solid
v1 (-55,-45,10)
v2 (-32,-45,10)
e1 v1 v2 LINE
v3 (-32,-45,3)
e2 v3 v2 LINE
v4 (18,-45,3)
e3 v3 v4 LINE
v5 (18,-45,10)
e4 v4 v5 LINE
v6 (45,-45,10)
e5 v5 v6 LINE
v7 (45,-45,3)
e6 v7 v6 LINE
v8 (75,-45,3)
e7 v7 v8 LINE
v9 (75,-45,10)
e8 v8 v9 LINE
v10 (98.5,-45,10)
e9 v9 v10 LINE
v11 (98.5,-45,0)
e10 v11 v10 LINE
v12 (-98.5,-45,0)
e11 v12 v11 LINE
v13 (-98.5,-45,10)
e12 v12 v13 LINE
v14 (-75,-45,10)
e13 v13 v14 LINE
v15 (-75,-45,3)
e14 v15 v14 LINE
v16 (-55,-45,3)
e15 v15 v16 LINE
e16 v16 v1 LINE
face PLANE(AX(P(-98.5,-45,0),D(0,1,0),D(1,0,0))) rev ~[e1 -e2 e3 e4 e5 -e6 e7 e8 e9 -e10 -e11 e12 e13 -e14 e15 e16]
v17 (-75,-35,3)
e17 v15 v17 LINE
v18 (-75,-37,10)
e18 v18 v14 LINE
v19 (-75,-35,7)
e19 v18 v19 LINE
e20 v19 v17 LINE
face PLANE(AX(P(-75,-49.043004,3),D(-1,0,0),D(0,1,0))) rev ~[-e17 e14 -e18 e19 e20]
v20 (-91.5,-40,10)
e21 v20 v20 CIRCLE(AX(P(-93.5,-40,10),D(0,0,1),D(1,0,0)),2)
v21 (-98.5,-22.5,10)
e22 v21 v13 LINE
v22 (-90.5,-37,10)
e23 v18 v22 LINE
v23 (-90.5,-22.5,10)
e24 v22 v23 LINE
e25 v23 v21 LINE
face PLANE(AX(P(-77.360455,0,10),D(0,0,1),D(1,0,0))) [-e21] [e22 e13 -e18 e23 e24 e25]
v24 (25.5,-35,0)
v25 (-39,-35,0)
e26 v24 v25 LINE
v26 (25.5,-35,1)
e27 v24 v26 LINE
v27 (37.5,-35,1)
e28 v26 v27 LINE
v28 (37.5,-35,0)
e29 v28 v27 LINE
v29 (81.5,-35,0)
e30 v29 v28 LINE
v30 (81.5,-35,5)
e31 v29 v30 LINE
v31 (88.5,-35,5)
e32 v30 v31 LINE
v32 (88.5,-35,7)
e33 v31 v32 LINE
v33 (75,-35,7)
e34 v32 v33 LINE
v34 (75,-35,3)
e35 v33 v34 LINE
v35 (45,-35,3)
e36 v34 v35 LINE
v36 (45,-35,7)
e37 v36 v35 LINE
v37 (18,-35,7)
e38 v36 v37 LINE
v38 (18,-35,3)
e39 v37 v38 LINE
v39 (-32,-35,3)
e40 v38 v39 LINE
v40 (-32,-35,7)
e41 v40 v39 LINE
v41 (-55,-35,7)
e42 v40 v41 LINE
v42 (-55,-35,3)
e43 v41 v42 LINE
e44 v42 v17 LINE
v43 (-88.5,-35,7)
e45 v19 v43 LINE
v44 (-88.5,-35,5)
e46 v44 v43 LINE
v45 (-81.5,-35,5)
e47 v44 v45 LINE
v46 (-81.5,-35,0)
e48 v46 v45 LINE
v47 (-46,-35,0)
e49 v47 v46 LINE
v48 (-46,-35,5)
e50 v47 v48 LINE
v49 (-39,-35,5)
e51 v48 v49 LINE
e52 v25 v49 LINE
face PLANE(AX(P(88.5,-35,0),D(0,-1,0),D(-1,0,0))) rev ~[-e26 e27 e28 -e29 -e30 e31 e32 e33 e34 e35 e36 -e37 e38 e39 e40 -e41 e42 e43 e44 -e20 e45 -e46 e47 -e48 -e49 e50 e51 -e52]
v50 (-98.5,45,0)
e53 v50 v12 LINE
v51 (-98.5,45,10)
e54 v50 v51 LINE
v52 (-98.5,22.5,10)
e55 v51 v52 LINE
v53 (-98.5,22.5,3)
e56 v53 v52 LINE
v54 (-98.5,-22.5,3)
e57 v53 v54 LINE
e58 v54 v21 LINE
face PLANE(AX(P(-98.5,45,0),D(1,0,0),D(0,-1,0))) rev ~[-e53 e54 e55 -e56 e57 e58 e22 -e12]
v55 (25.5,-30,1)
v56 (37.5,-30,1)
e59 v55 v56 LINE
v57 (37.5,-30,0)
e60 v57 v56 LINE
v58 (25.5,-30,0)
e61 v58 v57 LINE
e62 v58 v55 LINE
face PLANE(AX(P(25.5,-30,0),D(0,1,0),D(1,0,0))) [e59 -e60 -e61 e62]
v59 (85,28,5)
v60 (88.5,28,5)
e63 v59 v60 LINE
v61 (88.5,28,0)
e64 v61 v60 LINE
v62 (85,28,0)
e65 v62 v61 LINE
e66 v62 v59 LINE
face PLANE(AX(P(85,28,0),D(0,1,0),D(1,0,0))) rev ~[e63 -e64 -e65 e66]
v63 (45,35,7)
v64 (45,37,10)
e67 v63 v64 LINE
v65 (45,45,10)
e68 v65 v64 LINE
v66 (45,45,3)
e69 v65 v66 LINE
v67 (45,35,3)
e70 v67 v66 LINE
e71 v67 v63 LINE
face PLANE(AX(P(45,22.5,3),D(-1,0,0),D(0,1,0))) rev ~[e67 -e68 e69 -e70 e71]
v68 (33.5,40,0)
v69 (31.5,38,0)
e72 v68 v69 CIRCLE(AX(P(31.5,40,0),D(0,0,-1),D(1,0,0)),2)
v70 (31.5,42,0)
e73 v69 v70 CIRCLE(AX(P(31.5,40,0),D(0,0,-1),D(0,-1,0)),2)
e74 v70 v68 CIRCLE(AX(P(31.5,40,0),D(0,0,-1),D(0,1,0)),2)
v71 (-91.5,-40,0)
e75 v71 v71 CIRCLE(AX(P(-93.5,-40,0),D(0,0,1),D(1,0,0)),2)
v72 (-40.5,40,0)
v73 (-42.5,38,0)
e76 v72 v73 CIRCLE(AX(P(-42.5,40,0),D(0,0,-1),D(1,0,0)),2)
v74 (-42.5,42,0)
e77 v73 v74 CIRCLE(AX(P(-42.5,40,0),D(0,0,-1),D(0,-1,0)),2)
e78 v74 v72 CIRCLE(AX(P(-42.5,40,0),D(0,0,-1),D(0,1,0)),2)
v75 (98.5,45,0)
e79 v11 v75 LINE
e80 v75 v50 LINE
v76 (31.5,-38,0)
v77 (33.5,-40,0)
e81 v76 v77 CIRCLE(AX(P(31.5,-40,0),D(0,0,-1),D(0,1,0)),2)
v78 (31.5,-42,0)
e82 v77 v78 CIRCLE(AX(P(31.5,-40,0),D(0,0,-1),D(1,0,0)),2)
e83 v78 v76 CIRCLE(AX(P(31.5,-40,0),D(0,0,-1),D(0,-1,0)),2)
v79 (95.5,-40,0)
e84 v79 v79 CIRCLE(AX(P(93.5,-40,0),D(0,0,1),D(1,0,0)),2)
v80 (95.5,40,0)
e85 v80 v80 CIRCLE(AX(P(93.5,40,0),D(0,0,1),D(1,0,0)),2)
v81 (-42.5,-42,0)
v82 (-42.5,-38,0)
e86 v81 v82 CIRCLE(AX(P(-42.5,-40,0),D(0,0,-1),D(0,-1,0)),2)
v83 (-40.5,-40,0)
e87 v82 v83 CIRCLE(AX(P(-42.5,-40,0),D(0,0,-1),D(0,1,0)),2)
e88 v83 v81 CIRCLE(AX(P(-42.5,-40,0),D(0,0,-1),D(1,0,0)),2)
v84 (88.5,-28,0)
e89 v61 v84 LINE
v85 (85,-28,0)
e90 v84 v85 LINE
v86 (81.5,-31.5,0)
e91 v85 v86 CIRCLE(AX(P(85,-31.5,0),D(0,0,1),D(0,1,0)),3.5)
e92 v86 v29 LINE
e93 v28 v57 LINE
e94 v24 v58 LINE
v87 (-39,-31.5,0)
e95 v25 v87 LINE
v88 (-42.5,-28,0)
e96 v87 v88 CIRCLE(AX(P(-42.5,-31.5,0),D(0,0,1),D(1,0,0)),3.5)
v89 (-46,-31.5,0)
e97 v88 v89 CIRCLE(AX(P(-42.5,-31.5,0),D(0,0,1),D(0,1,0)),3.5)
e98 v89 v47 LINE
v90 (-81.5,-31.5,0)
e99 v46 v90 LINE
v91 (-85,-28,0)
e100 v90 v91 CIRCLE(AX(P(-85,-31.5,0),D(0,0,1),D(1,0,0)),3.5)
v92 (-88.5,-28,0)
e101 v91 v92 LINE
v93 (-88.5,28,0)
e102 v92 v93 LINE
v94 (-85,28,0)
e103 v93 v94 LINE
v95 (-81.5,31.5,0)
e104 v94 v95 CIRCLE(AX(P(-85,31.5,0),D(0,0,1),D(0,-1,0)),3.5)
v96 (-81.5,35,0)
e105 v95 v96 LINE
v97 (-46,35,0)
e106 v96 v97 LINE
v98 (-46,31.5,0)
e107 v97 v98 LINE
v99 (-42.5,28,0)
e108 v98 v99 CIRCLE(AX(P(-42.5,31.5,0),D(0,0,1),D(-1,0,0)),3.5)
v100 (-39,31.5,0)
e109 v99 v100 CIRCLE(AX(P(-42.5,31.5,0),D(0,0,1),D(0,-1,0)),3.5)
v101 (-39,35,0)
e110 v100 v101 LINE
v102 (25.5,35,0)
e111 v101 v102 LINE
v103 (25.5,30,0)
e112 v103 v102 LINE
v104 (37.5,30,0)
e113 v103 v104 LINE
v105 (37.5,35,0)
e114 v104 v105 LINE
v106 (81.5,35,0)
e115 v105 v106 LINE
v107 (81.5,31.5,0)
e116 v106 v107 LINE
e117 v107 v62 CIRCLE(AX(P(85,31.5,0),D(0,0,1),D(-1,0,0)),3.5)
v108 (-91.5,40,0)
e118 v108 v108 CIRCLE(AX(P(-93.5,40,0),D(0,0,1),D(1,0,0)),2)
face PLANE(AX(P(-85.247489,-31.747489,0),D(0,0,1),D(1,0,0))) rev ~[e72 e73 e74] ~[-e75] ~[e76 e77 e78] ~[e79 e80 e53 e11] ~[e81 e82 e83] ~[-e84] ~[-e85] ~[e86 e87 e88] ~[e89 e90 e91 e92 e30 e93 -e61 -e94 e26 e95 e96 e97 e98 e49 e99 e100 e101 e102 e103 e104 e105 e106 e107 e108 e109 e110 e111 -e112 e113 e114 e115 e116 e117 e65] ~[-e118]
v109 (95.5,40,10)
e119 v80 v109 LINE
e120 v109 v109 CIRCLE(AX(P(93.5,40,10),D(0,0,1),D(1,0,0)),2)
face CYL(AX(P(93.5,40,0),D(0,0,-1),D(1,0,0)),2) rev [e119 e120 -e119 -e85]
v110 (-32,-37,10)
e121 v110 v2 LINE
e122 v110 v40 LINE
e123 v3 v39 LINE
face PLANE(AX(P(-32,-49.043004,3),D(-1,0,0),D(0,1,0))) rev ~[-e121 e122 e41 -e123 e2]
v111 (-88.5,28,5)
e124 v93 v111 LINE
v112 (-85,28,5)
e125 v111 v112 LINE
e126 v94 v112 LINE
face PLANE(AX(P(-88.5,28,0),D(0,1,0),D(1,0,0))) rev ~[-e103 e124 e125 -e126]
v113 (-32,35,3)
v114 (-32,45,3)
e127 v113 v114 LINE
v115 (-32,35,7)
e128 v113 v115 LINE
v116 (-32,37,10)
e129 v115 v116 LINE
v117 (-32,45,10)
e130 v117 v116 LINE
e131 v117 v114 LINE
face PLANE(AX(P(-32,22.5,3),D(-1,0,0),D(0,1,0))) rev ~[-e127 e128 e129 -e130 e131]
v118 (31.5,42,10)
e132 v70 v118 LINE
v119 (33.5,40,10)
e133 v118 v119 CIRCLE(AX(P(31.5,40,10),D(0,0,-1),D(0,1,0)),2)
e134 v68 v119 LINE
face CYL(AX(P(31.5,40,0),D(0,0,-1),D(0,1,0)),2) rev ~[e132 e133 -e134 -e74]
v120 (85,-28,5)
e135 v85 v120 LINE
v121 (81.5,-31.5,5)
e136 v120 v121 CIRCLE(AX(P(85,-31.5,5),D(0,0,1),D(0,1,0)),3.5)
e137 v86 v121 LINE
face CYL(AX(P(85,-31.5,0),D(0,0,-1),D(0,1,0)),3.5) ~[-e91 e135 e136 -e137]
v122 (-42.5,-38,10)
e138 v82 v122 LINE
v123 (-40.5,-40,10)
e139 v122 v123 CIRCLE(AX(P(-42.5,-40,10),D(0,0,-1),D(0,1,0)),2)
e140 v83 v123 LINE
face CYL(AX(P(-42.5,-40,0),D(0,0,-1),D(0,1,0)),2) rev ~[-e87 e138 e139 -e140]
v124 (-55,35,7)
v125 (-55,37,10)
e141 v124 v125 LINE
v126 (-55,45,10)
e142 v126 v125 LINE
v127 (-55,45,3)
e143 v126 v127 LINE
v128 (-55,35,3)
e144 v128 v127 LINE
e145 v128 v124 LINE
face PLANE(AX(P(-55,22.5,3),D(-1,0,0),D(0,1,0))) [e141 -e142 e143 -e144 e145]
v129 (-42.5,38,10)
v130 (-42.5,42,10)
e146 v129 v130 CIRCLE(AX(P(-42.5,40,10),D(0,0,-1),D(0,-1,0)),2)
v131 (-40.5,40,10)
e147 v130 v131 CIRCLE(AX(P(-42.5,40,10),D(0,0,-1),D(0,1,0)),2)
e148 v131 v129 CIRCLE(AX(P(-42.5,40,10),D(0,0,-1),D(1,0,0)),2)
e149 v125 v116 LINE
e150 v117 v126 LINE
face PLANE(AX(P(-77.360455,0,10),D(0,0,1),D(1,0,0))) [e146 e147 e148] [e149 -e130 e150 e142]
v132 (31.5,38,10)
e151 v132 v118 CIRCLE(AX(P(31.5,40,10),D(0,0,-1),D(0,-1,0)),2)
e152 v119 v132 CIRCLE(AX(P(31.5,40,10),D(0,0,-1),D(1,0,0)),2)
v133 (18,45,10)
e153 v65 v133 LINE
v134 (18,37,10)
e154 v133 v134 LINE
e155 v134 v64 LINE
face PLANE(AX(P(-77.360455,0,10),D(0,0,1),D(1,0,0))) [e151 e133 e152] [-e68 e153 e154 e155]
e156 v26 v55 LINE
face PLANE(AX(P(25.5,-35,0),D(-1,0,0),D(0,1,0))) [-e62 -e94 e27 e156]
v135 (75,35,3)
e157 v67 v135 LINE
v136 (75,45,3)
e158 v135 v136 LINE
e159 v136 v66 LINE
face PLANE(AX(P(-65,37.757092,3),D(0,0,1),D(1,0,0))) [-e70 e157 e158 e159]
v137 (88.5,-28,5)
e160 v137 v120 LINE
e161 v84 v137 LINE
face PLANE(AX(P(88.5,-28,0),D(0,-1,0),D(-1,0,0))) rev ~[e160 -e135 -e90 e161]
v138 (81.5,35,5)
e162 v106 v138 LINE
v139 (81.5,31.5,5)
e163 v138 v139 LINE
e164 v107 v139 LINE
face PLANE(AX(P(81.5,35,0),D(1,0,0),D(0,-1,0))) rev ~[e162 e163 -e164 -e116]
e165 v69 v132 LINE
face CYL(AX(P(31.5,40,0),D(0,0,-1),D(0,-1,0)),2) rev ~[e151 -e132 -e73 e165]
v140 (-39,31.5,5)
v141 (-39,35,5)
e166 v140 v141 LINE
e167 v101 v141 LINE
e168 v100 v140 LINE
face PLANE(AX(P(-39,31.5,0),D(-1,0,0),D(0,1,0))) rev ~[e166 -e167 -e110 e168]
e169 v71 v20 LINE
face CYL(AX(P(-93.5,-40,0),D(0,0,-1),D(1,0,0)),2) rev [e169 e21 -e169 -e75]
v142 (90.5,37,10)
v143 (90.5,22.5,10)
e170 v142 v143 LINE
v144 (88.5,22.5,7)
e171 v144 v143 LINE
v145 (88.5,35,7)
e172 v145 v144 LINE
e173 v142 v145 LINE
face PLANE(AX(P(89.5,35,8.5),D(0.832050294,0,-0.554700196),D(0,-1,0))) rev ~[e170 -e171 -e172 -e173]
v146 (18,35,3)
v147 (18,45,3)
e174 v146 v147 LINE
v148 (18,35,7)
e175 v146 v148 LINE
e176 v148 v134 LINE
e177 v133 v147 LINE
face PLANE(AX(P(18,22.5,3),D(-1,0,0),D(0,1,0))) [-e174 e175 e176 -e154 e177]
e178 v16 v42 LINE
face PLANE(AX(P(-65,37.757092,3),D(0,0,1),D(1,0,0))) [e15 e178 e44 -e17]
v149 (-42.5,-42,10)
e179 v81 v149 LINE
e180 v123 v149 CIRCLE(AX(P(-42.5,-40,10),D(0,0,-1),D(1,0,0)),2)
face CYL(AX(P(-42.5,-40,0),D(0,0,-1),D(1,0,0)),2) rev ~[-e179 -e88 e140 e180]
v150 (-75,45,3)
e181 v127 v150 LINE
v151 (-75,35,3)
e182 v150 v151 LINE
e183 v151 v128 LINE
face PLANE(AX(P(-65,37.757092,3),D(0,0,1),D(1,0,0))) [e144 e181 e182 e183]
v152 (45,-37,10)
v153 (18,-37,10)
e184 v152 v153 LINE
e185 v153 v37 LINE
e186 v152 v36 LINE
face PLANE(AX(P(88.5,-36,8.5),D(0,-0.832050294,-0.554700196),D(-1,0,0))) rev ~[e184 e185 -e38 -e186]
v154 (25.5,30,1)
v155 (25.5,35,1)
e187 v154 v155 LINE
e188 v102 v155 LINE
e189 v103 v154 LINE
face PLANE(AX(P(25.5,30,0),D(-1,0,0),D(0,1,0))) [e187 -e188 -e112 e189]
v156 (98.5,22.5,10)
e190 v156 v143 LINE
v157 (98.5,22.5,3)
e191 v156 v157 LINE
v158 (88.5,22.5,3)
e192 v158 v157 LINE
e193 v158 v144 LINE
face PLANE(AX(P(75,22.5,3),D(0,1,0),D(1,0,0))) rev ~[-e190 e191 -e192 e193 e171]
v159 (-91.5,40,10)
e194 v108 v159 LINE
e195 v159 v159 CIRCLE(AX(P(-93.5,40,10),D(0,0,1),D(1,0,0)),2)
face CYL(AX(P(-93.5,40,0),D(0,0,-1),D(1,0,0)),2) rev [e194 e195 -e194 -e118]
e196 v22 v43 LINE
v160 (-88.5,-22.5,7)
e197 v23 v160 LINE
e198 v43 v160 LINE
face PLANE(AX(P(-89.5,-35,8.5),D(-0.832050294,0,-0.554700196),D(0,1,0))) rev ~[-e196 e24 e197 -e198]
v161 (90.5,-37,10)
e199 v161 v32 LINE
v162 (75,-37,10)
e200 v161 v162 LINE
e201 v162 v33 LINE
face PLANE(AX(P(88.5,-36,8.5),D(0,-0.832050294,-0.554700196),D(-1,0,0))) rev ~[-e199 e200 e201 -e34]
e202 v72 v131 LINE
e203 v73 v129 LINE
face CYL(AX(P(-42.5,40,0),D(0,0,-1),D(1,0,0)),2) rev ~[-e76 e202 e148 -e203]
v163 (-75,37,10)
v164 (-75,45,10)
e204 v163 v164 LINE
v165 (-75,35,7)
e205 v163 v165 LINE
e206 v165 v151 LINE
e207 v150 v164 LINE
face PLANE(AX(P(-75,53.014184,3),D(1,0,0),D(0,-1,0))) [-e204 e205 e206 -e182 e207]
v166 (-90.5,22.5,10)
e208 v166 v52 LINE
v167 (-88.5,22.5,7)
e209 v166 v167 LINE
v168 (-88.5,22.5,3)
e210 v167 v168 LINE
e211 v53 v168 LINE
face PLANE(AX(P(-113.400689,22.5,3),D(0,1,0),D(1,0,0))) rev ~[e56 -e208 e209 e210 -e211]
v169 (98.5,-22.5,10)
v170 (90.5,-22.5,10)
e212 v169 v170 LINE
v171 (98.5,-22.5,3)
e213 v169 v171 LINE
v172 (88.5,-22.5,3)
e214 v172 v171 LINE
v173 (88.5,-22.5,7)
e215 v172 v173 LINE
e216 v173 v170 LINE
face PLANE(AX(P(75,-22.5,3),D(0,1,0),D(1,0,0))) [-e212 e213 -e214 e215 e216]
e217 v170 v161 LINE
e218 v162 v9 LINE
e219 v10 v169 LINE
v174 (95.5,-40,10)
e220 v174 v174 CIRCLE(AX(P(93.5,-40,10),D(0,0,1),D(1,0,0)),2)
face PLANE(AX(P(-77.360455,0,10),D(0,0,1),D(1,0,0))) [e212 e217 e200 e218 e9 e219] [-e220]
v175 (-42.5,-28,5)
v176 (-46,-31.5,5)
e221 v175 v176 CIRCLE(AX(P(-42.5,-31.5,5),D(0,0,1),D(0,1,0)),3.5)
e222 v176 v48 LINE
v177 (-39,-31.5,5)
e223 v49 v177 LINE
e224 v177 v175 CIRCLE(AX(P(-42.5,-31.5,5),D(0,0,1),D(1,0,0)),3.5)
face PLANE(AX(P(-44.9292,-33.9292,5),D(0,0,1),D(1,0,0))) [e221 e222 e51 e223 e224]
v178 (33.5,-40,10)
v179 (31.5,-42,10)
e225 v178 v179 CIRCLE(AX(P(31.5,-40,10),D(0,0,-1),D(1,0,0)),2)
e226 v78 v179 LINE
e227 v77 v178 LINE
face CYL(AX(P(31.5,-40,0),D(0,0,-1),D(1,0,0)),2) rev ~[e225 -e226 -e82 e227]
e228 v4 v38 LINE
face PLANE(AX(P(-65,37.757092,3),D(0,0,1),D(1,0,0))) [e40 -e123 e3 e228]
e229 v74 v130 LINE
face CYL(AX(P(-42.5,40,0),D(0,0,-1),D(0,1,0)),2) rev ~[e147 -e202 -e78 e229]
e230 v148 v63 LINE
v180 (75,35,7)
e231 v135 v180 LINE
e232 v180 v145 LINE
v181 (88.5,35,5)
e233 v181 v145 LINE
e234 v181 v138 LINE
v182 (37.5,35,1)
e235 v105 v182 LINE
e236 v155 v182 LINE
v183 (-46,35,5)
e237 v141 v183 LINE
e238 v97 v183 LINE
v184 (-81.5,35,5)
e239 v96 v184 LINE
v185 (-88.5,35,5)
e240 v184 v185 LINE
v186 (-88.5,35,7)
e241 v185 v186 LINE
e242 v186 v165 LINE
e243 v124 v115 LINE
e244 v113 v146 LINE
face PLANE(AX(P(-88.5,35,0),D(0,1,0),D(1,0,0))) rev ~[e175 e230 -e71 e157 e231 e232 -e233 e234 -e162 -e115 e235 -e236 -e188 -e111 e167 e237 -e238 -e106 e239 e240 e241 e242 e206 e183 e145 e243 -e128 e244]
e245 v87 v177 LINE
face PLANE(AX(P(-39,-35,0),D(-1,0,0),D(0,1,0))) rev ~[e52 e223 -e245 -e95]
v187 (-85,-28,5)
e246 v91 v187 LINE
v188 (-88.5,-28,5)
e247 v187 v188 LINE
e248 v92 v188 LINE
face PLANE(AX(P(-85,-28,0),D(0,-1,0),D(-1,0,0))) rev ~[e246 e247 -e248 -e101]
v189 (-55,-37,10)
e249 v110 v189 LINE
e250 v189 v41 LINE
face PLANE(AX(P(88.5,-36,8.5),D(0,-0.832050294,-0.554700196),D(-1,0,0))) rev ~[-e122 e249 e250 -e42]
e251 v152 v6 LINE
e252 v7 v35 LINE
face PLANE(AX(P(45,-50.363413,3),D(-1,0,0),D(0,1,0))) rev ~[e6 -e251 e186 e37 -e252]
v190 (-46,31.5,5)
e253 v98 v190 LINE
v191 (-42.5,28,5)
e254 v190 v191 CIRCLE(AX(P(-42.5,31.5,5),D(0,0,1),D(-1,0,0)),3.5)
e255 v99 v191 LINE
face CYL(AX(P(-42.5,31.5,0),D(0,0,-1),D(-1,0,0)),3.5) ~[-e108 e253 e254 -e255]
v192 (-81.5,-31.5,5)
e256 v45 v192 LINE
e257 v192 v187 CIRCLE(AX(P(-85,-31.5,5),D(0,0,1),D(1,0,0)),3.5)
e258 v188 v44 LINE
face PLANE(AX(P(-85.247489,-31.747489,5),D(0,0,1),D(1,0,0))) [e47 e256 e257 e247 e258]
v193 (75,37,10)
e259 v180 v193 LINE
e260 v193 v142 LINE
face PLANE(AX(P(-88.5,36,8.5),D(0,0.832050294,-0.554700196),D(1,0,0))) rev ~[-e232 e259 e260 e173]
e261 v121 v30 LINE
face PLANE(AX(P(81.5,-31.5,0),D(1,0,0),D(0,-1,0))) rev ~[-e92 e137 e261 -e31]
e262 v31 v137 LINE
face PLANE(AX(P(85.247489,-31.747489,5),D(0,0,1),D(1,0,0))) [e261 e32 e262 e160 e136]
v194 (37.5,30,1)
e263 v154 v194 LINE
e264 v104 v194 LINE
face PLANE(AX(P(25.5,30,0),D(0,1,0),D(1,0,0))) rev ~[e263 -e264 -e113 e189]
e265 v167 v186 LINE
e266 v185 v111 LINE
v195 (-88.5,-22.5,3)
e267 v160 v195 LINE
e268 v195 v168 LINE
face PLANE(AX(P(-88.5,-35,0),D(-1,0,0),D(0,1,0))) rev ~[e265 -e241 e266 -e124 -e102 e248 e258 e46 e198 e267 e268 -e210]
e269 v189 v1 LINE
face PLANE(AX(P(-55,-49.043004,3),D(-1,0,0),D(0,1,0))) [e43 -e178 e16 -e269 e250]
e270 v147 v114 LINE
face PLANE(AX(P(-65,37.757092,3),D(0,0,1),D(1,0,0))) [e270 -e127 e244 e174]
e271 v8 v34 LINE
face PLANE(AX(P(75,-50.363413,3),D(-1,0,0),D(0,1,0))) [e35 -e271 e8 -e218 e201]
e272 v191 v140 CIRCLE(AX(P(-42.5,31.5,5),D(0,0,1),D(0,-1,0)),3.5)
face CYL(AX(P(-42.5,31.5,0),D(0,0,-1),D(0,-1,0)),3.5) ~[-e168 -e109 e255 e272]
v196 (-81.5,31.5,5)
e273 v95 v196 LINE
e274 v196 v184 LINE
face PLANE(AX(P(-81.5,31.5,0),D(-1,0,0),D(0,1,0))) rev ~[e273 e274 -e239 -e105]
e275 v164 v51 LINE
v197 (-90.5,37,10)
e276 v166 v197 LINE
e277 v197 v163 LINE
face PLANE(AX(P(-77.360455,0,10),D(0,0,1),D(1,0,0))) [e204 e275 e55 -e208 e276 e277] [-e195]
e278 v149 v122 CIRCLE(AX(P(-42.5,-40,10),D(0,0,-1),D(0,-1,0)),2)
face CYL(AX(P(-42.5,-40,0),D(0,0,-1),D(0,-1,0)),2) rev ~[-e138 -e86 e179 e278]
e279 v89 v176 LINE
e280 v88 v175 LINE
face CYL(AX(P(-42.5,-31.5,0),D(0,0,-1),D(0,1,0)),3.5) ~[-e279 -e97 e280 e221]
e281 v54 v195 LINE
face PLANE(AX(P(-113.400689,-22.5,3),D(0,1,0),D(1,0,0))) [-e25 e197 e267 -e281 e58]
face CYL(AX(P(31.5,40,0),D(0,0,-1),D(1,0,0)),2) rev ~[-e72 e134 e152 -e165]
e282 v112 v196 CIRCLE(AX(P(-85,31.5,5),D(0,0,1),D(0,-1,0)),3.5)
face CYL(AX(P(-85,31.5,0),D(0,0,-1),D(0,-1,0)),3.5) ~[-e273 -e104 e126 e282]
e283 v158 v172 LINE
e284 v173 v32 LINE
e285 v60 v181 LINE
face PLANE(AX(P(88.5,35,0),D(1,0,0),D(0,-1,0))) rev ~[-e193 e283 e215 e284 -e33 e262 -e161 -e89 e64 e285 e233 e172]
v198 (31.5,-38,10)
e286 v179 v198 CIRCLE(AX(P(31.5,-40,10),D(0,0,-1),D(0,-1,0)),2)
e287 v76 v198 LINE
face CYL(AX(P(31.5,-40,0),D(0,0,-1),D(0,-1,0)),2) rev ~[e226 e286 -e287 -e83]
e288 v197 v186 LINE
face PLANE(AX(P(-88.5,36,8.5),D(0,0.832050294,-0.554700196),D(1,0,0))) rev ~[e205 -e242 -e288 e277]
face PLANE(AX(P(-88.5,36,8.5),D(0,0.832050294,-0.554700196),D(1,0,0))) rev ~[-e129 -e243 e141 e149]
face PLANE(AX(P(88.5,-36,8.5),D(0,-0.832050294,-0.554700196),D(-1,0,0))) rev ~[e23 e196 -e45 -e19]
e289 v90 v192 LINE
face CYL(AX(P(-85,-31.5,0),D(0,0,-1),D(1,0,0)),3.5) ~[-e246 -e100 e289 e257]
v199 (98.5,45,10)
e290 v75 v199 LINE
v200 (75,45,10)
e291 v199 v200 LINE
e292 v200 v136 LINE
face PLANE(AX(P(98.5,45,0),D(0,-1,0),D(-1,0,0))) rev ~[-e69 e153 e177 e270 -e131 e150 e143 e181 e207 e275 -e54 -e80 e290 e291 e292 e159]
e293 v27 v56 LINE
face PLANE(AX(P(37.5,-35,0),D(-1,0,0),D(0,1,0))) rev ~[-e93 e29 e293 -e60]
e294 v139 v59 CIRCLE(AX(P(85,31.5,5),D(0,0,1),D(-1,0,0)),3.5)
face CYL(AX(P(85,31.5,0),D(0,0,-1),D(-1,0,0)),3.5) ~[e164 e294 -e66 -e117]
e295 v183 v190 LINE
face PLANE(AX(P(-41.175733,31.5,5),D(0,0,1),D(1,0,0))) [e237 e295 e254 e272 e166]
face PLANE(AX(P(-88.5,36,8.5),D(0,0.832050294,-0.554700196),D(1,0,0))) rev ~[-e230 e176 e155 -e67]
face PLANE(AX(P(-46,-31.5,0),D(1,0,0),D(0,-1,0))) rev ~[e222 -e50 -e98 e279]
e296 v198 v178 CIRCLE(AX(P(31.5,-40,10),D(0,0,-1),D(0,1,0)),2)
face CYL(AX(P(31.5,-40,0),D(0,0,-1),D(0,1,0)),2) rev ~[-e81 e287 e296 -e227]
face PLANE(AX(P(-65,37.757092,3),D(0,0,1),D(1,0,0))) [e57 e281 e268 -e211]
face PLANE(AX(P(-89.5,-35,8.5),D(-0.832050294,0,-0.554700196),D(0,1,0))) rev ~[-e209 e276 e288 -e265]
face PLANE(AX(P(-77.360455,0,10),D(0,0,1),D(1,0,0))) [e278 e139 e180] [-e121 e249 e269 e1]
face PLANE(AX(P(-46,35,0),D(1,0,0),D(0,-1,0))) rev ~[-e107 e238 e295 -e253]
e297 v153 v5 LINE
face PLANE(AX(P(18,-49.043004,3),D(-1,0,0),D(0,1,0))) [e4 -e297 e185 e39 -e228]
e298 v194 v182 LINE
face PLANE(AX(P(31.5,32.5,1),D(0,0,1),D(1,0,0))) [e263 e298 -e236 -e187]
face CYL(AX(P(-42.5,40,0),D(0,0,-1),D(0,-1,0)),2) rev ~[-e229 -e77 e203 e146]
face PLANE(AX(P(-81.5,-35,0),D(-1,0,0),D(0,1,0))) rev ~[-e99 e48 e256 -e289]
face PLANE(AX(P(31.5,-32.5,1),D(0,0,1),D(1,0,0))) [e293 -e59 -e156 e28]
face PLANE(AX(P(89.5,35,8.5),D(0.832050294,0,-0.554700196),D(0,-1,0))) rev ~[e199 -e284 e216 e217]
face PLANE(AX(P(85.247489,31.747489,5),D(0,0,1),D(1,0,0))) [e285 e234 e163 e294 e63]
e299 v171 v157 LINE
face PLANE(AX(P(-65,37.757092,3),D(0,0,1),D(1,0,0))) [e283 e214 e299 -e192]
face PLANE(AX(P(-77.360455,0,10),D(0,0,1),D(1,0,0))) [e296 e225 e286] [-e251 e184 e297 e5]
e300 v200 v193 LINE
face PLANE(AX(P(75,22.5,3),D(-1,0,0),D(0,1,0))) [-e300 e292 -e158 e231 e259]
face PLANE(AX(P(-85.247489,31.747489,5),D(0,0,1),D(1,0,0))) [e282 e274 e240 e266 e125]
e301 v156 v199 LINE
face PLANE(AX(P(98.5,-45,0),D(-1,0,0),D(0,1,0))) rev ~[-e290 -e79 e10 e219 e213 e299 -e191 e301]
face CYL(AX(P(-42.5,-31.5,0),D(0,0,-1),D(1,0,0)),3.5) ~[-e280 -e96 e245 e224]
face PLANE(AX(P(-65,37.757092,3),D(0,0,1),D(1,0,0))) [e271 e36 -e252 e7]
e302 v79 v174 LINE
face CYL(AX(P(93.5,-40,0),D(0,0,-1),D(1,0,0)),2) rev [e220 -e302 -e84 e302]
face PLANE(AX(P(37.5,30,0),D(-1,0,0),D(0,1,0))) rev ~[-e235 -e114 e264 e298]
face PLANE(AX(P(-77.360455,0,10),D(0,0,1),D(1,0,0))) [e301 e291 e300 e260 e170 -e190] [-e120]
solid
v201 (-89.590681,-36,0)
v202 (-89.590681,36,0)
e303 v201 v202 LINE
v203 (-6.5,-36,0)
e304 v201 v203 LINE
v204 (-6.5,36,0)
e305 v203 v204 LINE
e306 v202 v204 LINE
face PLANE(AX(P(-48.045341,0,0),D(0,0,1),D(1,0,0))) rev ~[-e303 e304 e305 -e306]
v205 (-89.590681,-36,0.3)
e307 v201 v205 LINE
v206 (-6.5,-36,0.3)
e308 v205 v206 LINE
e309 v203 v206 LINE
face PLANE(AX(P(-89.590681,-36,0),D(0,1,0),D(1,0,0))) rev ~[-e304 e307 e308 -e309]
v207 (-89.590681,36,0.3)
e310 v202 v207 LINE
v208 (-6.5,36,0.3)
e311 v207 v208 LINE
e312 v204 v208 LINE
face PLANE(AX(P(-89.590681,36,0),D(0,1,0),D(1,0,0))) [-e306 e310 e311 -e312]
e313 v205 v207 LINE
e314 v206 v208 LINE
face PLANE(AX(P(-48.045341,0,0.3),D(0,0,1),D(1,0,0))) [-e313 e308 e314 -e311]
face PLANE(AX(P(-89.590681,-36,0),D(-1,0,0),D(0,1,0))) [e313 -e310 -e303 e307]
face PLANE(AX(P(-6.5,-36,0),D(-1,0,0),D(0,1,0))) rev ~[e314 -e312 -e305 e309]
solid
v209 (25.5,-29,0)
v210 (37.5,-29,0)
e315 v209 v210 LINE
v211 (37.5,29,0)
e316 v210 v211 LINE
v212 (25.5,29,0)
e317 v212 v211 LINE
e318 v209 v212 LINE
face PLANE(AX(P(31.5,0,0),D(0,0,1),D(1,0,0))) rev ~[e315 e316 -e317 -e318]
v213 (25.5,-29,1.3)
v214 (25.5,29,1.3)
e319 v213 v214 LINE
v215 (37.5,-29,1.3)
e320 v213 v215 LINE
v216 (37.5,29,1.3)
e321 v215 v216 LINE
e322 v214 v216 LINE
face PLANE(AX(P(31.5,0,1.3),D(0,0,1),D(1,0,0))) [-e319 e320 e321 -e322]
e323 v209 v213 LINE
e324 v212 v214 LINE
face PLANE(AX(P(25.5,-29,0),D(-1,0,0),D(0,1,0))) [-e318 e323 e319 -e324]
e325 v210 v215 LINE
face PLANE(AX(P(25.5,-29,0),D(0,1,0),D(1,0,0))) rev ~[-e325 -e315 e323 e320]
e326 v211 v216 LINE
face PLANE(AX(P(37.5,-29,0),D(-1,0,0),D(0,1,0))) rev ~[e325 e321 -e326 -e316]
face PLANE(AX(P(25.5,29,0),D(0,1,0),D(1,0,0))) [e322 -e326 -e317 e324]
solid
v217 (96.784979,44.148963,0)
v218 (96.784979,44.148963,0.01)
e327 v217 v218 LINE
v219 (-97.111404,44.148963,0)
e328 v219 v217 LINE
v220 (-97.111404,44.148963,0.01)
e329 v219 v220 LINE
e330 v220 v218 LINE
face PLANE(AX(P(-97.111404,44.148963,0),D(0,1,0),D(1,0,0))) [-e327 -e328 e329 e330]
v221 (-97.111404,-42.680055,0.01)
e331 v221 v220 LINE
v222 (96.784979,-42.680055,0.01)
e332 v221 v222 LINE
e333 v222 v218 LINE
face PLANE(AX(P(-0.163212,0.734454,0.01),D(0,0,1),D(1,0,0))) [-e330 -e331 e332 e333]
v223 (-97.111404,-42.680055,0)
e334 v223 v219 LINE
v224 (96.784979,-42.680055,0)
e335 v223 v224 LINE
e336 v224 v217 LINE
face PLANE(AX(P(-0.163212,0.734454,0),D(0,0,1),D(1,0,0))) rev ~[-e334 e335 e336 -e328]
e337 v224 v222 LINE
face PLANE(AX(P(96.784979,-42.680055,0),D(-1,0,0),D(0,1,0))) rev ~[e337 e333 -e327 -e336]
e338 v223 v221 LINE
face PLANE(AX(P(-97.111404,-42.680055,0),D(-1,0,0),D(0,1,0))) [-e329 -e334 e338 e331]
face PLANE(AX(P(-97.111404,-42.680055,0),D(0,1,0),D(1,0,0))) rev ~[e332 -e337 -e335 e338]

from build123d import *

# Parameters (mm, degrees)
F0_R      = 2
F1_DEPTH  = 10
F2_DEPTH  = 5
F3_SIZE2  = 3
F3_SIZE   = 2
F4_W      = 12
F4_H      = 58
F5_DEPTH  = 1.3
F7_START  = 3
F6_W      = 20
F6_H      = 30.5141843065
F6_H_2    = 45
F6_W_2    = 38.4006889146
F6_W_3    = 23
F6_H_3    = 26.5430039666
F6_W_4    = 50
F6_H_4    = 30.9126630588
F6_W_5    = 27
F6_W_6    = 30
F6_H_5    = 30.5863746506
F6_H_6    = 27.8634131846
F6_W_7    = 32.0585550834
F7_DEPTH  = 22
F8_W      = 12
F8_H      = 5
F9_DEPTH  = 1
F10_W     = 83.0906813658
F10_H     = 72
F11_DEPTH = 0.3
F12_W     = 193.8963830471
F12_H     = 86.8290178478
F13_DEPTH = 0.01


with BuildPart() as f1:
    # F0 (on Top) → F1 (new body)
    with BuildSketch(Plane.XY):
        with BuildLine():
            Line((-81.5, -35), (-88.5, -35))
            Line((-88.5, -35), (-88.5, -28))
            Line((-88.5, -28), (-88.5, 28))
            Line((-88.5, 28), (-88.5, 35))
            Line((-88.5, 35), (-81.5, 35))
            Line((-81.5, 35), (-46, 35))
            Line((-46, 35), (-42.5, 35))
            Line((-42.5, 35), (-42.5, 38))
            ThreePointArc((-42.5, 38), (-44.5, 40), (-42.5, 42))
            Line((-42.5, 42), (-42.5, 45))
            Line((-42.5, 45), (-98.5, 45))
            Line((-98.5, 45), (-98.5, -45))
            Line((-98.5, -45), (-42.5, -45))
            Line((-42.5, -45), (-42.5, -42))
            ThreePointArc((-42.5, -42), (-44.5, -40), (-42.5, -38))
            Line((-42.5, -38), (-42.5, -35))
            Line((-42.5, -35), (-46, -35))
            Line((-46, -35), (-81.5, -35))
        make_face()
        with Locations((-93.5, -40)):
            Circle(F0_R, mode=Mode.SUBTRACT)
        with Locations((-93.5, 40)):
            Circle(F0_R, mode=Mode.SUBTRACT)
        with BuildLine():
            Line((81.5, -35), (31.5, -35))
            Line((31.5, -35), (31.5, -38))
            ThreePointArc((31.5, -38), (32.9142135624, -38.5857864376), (33.5, -40))
            ThreePointArc((33.5, -40), (32.9142135624, -41.4142135624), (31.5, -42))
            Line((31.5, -42), (31.5, -45))
            Line((31.5, -45), (98.5, -45))
            Line((98.5, -45), (98.5, 45))
            Line((98.5, 45), (31.5, 45))
            Line((31.5, 45), (31.5, 42))
            ThreePointArc((31.5, 42), (32.9142135624, 41.4142135624), (33.5, 40))
            ThreePointArc((33.5, 40), (32.9142135624, 38.5857864376), (31.5, 38))
            Line((31.5, 38), (31.5, 35))
            Line((31.5, 35), (81.5, 35))
            Line((81.5, 35), (88.5, 35))
            Line((88.5, 35), (88.5, 28))
            Line((88.5, 28), (88.5, -28))
            Line((88.5, -28), (88.5, -35))
            Line((88.5, -35), (81.5, -35))
        make_face()
        with Locations((93.5, -40)):
            Circle(F0_R, mode=Mode.SUBTRACT)
        with Locations((93.5, 40)):
            Circle(F0_R, mode=Mode.SUBTRACT)
        with BuildLine():
            Line((-39, 35), (31.5, 35))
            Line((31.5, 35), (31.5, 38))
            ThreePointArc((31.5, 38), (29.5, 40), (31.5, 42))
            Line((31.5, 42), (31.5, 45))
            Line((31.5, 45), (-42.5, 45))
            Line((-42.5, 45), (-42.5, 42))
            ThreePointArc((-42.5, 42), (-41.0857864376, 41.4142135624), (-40.5, 40))
            ThreePointArc((-40.5, 40), (-41.0857864376, 38.5857864376), (-42.5, 38))
            Line((-42.5, 38), (-42.5, 35))
            Line((-42.5, 35), (-39, 35))
        make_face()
        with BuildLine():
            Line((-39, -35), (-42.5, -35))
            Line((-42.5, -35), (-42.5, -38))
            ThreePointArc((-42.5, -38), (-41.0857864376, -38.5857864376), (-40.5, -40))
            ThreePointArc((-40.5, -40), (-41.0857864376, -41.4142135624), (-42.5, -42))
            Line((-42.5, -42), (-42.5, -45))
            Line((-42.5, -45), (31.5, -45))
            Line((31.5, -45), (31.5, -42))
            ThreePointArc((31.5, -42), (29.5, -40), (31.5, -38))
            Line((31.5, -38), (31.5, -35))
            Line((31.5, -35), (-39, -35))
        make_face()
    extrude(amount=F1_DEPTH)

    # F0 (on Top) → F2 (join)
    with BuildSketch(Plane.XY):
        with BuildLine():
            Line((-88.5, -28), (-88.5, -35))
            Line((-88.5, -35), (-81.5, -35))
            Line((-81.5, -35), (-81.5, -31.5))
            ThreePointArc((-81.5, -31.5), (-82.5251262658, -29.0251262658), (-85, -28))
            Line((-85, -28), (-88.5, -28))
        make_face()
        with BuildLine():
            Line((-46, -31.5), (-46, -35))
            Line((-46, -35), (-42.5, -35))
            ThreePointArc((-42.5, -35), (-44.9748737342, -33.9748737342), (-46, -31.5))
        make_face()
        with BuildLine():
            ThreePointArc((-39, -31.5), (-40.0251262658, -33.9748737342), (-42.5, -35))
            Line((-42.5, -35), (-39, -35))
            Line((-39, -35), (-39, -31.5))
        make_face()
        with BuildLine():
            ThreePointArc((-46, -31.5), (-44.9748737342, -33.9748737342), (-42.5, -35))
            Line((-42.5, -35), (-42.5, -28))
            ThreePointArc((-42.5, -28), (-44.9748737342, -29.0251262658), (-46, -31.5))
        make_face()
        with BuildLine():
            Line((-42.5, -28), (-42.5, -35))
            ThreePointArc((-42.5, -35), (-40.0251262658, -33.9748737342), (-39, -31.5))
            ThreePointArc((-39, -31.5), (-40.0251262658, -29.0251262658), (-42.5, -28))
        make_face()
        with BuildLine():
            Line((-88.5, 35), (-88.5, 28))
            Line((-88.5, 28), (-85, 28))
            ThreePointArc((-85, 28), (-82.5251262658, 29.0251262658), (-81.5, 31.5))
            Line((-81.5, 31.5), (-81.5, 35))
            Line((-81.5, 35), (-88.5, 35))
        make_face()
        with BuildLine():
            Line((-42.5, 35), (-42.5, 28))
            ThreePointArc((-42.5, 28), (-40.0251262658, 29.0251262658), (-39, 31.5))
            ThreePointArc((-39, 31.5), (-40.0251262658, 33.9748737342), (-42.5, 35))
        make_face()
        with BuildLine():
            Line((-39, 35), (-42.5, 35))
            ThreePointArc((-42.5, 35), (-40.0251262658, 33.9748737342), (-39, 31.5))
            Line((-39, 31.5), (-39, 35))
        make_face()
        with BuildLine():
            Line((-42.5, 35), (-46, 35))
            Line((-46, 35), (-46, 31.5))
            ThreePointArc((-46, 31.5), (-44.9748737342, 33.9748737342), (-42.5, 35))
        make_face()
        with BuildLine():
            ThreePointArc((-46, 31.5), (-44.9748737342, 29.0251262658), (-42.5, 28))
            Line((-42.5, 28), (-42.5, 35))
            ThreePointArc((-42.5, 35), (-44.9748737342, 33.9748737342), (-46, 31.5))
        make_face()
        with BuildLine():
            Line((81.5, -31.5), (81.5, -35))
            Line((81.5, -35), (88.5, -35))
            Line((88.5, -35), (88.5, -28))
            Line((88.5, -28), (85, -28))
            ThreePointArc((85, -28), (82.5251262658, -29.0251262658), (81.5, -31.5))
        make_face()
        with BuildLine():
            Line((88.5, 35), (81.5, 35))
            Line((81.5, 35), (81.5, 31.5))
            ThreePointArc((81.5, 31.5), (82.5251262658, 29.0251262658), (85, 28))
            Line((85, 28), (88.5, 28))
            Line((88.5, 28), (88.5, 35))
        make_face()
    extrude(amount=F2_DEPTH)

    # F3
    f3_edges = [f1.edges().sort_by_distance(p)[0] for p in [
        (-88.5, 0, 10),
        (0, -35, 10),
        (88.5, 0, 10),
        (0, 35, 10),
    ]]
    f3_side = f1.faces().sort_by_distance((-90.665849, 0, 10))[0]
    chamfer(f3_edges, length=F3_SIZE, length2=F3_SIZE2, reference=f3_side)

    # F6 (on Top) → F7 (cut)
    with BuildSketch(Plane.XY.offset(F7_START)):
        with Locations((-65, 37.7570921533)):
            Rectangle(F6_W, F6_H)
        with Locations((-65, 0)):
            Rectangle(F6_W, F6_H_2)
        with Locations((-94.2003444573, 0)):
            Rectangle(F6_W_2, F6_H_2)
        with Locations((-43.5, 0)):
            Rectangle(F6_W_3, F6_H_2)
        with Locations((-65, -35.7715019833)):
            Rectangle(F6_W, F6_H_3)
        with Locations((-7, 0)):
            Rectangle(F6_W_4, F6_H_2)
        with Locations((-7, 37.9563315294)):
            Rectangle(F6_W_4, F6_H_4)
        with Locations((-7, -35.7715019833)):
            Rectangle(F6_W_4, F6_H_3)
        with Locations((31.5, 0)):
            Rectangle(F6_W_5, F6_H_2)
        with Locations((60, 0)):
            Rectangle(F6_W_6, F6_H_2)
        with Locations((60, 37.7931873253)):
            Rectangle(F6_W_6, F6_H_5)
        with Locations((60, -36.4317065923)):
            Rectangle(F6_W_6, F6_H_6)
        with Locations((91.0292775417, 0)):
            Rectangle(F6_W_7, F6_H_2)
    extrude(amount=F7_DEPTH, mode=Mode.SUBTRACT)

    # F8 (on Top) → F9 (join)
    with BuildSketch(Plane.XY):
        with Locations((31.5, 32.5)):
            Rectangle(F8_W, F8_H)
        with Locations((31.5, -32.5)):
            Rectangle(F8_W, F8_H)
    extrude(amount=F9_DEPTH)


with BuildPart() as f5:
    # F4 (on Top) → F5 (new body)
    with BuildSketch(Plane.XY):
        with Locations((31.5, 0)):
            Rectangle(F4_W, F4_H)
    extrude(amount=F5_DEPTH)


with BuildPart() as f11:
    # F10 (on Top) → F11 (new body)
    with BuildSketch(Plane.XY):
        with Locations((-48.0453406829, 0)):
            Rectangle(F10_W, F10_H)
    extrude(amount=F11_DEPTH)


with BuildPart() as f13:
    # F12 (on Top) → F13 (new body)
    with BuildSketch(Plane.XY):
        with Locations((-0.1632124186, 0.7344540209)):
            Rectangle(F12_W, F12_H)
    extrude(amount=F13_DEPTH)


solid = Compound([f1.part, f5.part, f11.part, f13.part])
